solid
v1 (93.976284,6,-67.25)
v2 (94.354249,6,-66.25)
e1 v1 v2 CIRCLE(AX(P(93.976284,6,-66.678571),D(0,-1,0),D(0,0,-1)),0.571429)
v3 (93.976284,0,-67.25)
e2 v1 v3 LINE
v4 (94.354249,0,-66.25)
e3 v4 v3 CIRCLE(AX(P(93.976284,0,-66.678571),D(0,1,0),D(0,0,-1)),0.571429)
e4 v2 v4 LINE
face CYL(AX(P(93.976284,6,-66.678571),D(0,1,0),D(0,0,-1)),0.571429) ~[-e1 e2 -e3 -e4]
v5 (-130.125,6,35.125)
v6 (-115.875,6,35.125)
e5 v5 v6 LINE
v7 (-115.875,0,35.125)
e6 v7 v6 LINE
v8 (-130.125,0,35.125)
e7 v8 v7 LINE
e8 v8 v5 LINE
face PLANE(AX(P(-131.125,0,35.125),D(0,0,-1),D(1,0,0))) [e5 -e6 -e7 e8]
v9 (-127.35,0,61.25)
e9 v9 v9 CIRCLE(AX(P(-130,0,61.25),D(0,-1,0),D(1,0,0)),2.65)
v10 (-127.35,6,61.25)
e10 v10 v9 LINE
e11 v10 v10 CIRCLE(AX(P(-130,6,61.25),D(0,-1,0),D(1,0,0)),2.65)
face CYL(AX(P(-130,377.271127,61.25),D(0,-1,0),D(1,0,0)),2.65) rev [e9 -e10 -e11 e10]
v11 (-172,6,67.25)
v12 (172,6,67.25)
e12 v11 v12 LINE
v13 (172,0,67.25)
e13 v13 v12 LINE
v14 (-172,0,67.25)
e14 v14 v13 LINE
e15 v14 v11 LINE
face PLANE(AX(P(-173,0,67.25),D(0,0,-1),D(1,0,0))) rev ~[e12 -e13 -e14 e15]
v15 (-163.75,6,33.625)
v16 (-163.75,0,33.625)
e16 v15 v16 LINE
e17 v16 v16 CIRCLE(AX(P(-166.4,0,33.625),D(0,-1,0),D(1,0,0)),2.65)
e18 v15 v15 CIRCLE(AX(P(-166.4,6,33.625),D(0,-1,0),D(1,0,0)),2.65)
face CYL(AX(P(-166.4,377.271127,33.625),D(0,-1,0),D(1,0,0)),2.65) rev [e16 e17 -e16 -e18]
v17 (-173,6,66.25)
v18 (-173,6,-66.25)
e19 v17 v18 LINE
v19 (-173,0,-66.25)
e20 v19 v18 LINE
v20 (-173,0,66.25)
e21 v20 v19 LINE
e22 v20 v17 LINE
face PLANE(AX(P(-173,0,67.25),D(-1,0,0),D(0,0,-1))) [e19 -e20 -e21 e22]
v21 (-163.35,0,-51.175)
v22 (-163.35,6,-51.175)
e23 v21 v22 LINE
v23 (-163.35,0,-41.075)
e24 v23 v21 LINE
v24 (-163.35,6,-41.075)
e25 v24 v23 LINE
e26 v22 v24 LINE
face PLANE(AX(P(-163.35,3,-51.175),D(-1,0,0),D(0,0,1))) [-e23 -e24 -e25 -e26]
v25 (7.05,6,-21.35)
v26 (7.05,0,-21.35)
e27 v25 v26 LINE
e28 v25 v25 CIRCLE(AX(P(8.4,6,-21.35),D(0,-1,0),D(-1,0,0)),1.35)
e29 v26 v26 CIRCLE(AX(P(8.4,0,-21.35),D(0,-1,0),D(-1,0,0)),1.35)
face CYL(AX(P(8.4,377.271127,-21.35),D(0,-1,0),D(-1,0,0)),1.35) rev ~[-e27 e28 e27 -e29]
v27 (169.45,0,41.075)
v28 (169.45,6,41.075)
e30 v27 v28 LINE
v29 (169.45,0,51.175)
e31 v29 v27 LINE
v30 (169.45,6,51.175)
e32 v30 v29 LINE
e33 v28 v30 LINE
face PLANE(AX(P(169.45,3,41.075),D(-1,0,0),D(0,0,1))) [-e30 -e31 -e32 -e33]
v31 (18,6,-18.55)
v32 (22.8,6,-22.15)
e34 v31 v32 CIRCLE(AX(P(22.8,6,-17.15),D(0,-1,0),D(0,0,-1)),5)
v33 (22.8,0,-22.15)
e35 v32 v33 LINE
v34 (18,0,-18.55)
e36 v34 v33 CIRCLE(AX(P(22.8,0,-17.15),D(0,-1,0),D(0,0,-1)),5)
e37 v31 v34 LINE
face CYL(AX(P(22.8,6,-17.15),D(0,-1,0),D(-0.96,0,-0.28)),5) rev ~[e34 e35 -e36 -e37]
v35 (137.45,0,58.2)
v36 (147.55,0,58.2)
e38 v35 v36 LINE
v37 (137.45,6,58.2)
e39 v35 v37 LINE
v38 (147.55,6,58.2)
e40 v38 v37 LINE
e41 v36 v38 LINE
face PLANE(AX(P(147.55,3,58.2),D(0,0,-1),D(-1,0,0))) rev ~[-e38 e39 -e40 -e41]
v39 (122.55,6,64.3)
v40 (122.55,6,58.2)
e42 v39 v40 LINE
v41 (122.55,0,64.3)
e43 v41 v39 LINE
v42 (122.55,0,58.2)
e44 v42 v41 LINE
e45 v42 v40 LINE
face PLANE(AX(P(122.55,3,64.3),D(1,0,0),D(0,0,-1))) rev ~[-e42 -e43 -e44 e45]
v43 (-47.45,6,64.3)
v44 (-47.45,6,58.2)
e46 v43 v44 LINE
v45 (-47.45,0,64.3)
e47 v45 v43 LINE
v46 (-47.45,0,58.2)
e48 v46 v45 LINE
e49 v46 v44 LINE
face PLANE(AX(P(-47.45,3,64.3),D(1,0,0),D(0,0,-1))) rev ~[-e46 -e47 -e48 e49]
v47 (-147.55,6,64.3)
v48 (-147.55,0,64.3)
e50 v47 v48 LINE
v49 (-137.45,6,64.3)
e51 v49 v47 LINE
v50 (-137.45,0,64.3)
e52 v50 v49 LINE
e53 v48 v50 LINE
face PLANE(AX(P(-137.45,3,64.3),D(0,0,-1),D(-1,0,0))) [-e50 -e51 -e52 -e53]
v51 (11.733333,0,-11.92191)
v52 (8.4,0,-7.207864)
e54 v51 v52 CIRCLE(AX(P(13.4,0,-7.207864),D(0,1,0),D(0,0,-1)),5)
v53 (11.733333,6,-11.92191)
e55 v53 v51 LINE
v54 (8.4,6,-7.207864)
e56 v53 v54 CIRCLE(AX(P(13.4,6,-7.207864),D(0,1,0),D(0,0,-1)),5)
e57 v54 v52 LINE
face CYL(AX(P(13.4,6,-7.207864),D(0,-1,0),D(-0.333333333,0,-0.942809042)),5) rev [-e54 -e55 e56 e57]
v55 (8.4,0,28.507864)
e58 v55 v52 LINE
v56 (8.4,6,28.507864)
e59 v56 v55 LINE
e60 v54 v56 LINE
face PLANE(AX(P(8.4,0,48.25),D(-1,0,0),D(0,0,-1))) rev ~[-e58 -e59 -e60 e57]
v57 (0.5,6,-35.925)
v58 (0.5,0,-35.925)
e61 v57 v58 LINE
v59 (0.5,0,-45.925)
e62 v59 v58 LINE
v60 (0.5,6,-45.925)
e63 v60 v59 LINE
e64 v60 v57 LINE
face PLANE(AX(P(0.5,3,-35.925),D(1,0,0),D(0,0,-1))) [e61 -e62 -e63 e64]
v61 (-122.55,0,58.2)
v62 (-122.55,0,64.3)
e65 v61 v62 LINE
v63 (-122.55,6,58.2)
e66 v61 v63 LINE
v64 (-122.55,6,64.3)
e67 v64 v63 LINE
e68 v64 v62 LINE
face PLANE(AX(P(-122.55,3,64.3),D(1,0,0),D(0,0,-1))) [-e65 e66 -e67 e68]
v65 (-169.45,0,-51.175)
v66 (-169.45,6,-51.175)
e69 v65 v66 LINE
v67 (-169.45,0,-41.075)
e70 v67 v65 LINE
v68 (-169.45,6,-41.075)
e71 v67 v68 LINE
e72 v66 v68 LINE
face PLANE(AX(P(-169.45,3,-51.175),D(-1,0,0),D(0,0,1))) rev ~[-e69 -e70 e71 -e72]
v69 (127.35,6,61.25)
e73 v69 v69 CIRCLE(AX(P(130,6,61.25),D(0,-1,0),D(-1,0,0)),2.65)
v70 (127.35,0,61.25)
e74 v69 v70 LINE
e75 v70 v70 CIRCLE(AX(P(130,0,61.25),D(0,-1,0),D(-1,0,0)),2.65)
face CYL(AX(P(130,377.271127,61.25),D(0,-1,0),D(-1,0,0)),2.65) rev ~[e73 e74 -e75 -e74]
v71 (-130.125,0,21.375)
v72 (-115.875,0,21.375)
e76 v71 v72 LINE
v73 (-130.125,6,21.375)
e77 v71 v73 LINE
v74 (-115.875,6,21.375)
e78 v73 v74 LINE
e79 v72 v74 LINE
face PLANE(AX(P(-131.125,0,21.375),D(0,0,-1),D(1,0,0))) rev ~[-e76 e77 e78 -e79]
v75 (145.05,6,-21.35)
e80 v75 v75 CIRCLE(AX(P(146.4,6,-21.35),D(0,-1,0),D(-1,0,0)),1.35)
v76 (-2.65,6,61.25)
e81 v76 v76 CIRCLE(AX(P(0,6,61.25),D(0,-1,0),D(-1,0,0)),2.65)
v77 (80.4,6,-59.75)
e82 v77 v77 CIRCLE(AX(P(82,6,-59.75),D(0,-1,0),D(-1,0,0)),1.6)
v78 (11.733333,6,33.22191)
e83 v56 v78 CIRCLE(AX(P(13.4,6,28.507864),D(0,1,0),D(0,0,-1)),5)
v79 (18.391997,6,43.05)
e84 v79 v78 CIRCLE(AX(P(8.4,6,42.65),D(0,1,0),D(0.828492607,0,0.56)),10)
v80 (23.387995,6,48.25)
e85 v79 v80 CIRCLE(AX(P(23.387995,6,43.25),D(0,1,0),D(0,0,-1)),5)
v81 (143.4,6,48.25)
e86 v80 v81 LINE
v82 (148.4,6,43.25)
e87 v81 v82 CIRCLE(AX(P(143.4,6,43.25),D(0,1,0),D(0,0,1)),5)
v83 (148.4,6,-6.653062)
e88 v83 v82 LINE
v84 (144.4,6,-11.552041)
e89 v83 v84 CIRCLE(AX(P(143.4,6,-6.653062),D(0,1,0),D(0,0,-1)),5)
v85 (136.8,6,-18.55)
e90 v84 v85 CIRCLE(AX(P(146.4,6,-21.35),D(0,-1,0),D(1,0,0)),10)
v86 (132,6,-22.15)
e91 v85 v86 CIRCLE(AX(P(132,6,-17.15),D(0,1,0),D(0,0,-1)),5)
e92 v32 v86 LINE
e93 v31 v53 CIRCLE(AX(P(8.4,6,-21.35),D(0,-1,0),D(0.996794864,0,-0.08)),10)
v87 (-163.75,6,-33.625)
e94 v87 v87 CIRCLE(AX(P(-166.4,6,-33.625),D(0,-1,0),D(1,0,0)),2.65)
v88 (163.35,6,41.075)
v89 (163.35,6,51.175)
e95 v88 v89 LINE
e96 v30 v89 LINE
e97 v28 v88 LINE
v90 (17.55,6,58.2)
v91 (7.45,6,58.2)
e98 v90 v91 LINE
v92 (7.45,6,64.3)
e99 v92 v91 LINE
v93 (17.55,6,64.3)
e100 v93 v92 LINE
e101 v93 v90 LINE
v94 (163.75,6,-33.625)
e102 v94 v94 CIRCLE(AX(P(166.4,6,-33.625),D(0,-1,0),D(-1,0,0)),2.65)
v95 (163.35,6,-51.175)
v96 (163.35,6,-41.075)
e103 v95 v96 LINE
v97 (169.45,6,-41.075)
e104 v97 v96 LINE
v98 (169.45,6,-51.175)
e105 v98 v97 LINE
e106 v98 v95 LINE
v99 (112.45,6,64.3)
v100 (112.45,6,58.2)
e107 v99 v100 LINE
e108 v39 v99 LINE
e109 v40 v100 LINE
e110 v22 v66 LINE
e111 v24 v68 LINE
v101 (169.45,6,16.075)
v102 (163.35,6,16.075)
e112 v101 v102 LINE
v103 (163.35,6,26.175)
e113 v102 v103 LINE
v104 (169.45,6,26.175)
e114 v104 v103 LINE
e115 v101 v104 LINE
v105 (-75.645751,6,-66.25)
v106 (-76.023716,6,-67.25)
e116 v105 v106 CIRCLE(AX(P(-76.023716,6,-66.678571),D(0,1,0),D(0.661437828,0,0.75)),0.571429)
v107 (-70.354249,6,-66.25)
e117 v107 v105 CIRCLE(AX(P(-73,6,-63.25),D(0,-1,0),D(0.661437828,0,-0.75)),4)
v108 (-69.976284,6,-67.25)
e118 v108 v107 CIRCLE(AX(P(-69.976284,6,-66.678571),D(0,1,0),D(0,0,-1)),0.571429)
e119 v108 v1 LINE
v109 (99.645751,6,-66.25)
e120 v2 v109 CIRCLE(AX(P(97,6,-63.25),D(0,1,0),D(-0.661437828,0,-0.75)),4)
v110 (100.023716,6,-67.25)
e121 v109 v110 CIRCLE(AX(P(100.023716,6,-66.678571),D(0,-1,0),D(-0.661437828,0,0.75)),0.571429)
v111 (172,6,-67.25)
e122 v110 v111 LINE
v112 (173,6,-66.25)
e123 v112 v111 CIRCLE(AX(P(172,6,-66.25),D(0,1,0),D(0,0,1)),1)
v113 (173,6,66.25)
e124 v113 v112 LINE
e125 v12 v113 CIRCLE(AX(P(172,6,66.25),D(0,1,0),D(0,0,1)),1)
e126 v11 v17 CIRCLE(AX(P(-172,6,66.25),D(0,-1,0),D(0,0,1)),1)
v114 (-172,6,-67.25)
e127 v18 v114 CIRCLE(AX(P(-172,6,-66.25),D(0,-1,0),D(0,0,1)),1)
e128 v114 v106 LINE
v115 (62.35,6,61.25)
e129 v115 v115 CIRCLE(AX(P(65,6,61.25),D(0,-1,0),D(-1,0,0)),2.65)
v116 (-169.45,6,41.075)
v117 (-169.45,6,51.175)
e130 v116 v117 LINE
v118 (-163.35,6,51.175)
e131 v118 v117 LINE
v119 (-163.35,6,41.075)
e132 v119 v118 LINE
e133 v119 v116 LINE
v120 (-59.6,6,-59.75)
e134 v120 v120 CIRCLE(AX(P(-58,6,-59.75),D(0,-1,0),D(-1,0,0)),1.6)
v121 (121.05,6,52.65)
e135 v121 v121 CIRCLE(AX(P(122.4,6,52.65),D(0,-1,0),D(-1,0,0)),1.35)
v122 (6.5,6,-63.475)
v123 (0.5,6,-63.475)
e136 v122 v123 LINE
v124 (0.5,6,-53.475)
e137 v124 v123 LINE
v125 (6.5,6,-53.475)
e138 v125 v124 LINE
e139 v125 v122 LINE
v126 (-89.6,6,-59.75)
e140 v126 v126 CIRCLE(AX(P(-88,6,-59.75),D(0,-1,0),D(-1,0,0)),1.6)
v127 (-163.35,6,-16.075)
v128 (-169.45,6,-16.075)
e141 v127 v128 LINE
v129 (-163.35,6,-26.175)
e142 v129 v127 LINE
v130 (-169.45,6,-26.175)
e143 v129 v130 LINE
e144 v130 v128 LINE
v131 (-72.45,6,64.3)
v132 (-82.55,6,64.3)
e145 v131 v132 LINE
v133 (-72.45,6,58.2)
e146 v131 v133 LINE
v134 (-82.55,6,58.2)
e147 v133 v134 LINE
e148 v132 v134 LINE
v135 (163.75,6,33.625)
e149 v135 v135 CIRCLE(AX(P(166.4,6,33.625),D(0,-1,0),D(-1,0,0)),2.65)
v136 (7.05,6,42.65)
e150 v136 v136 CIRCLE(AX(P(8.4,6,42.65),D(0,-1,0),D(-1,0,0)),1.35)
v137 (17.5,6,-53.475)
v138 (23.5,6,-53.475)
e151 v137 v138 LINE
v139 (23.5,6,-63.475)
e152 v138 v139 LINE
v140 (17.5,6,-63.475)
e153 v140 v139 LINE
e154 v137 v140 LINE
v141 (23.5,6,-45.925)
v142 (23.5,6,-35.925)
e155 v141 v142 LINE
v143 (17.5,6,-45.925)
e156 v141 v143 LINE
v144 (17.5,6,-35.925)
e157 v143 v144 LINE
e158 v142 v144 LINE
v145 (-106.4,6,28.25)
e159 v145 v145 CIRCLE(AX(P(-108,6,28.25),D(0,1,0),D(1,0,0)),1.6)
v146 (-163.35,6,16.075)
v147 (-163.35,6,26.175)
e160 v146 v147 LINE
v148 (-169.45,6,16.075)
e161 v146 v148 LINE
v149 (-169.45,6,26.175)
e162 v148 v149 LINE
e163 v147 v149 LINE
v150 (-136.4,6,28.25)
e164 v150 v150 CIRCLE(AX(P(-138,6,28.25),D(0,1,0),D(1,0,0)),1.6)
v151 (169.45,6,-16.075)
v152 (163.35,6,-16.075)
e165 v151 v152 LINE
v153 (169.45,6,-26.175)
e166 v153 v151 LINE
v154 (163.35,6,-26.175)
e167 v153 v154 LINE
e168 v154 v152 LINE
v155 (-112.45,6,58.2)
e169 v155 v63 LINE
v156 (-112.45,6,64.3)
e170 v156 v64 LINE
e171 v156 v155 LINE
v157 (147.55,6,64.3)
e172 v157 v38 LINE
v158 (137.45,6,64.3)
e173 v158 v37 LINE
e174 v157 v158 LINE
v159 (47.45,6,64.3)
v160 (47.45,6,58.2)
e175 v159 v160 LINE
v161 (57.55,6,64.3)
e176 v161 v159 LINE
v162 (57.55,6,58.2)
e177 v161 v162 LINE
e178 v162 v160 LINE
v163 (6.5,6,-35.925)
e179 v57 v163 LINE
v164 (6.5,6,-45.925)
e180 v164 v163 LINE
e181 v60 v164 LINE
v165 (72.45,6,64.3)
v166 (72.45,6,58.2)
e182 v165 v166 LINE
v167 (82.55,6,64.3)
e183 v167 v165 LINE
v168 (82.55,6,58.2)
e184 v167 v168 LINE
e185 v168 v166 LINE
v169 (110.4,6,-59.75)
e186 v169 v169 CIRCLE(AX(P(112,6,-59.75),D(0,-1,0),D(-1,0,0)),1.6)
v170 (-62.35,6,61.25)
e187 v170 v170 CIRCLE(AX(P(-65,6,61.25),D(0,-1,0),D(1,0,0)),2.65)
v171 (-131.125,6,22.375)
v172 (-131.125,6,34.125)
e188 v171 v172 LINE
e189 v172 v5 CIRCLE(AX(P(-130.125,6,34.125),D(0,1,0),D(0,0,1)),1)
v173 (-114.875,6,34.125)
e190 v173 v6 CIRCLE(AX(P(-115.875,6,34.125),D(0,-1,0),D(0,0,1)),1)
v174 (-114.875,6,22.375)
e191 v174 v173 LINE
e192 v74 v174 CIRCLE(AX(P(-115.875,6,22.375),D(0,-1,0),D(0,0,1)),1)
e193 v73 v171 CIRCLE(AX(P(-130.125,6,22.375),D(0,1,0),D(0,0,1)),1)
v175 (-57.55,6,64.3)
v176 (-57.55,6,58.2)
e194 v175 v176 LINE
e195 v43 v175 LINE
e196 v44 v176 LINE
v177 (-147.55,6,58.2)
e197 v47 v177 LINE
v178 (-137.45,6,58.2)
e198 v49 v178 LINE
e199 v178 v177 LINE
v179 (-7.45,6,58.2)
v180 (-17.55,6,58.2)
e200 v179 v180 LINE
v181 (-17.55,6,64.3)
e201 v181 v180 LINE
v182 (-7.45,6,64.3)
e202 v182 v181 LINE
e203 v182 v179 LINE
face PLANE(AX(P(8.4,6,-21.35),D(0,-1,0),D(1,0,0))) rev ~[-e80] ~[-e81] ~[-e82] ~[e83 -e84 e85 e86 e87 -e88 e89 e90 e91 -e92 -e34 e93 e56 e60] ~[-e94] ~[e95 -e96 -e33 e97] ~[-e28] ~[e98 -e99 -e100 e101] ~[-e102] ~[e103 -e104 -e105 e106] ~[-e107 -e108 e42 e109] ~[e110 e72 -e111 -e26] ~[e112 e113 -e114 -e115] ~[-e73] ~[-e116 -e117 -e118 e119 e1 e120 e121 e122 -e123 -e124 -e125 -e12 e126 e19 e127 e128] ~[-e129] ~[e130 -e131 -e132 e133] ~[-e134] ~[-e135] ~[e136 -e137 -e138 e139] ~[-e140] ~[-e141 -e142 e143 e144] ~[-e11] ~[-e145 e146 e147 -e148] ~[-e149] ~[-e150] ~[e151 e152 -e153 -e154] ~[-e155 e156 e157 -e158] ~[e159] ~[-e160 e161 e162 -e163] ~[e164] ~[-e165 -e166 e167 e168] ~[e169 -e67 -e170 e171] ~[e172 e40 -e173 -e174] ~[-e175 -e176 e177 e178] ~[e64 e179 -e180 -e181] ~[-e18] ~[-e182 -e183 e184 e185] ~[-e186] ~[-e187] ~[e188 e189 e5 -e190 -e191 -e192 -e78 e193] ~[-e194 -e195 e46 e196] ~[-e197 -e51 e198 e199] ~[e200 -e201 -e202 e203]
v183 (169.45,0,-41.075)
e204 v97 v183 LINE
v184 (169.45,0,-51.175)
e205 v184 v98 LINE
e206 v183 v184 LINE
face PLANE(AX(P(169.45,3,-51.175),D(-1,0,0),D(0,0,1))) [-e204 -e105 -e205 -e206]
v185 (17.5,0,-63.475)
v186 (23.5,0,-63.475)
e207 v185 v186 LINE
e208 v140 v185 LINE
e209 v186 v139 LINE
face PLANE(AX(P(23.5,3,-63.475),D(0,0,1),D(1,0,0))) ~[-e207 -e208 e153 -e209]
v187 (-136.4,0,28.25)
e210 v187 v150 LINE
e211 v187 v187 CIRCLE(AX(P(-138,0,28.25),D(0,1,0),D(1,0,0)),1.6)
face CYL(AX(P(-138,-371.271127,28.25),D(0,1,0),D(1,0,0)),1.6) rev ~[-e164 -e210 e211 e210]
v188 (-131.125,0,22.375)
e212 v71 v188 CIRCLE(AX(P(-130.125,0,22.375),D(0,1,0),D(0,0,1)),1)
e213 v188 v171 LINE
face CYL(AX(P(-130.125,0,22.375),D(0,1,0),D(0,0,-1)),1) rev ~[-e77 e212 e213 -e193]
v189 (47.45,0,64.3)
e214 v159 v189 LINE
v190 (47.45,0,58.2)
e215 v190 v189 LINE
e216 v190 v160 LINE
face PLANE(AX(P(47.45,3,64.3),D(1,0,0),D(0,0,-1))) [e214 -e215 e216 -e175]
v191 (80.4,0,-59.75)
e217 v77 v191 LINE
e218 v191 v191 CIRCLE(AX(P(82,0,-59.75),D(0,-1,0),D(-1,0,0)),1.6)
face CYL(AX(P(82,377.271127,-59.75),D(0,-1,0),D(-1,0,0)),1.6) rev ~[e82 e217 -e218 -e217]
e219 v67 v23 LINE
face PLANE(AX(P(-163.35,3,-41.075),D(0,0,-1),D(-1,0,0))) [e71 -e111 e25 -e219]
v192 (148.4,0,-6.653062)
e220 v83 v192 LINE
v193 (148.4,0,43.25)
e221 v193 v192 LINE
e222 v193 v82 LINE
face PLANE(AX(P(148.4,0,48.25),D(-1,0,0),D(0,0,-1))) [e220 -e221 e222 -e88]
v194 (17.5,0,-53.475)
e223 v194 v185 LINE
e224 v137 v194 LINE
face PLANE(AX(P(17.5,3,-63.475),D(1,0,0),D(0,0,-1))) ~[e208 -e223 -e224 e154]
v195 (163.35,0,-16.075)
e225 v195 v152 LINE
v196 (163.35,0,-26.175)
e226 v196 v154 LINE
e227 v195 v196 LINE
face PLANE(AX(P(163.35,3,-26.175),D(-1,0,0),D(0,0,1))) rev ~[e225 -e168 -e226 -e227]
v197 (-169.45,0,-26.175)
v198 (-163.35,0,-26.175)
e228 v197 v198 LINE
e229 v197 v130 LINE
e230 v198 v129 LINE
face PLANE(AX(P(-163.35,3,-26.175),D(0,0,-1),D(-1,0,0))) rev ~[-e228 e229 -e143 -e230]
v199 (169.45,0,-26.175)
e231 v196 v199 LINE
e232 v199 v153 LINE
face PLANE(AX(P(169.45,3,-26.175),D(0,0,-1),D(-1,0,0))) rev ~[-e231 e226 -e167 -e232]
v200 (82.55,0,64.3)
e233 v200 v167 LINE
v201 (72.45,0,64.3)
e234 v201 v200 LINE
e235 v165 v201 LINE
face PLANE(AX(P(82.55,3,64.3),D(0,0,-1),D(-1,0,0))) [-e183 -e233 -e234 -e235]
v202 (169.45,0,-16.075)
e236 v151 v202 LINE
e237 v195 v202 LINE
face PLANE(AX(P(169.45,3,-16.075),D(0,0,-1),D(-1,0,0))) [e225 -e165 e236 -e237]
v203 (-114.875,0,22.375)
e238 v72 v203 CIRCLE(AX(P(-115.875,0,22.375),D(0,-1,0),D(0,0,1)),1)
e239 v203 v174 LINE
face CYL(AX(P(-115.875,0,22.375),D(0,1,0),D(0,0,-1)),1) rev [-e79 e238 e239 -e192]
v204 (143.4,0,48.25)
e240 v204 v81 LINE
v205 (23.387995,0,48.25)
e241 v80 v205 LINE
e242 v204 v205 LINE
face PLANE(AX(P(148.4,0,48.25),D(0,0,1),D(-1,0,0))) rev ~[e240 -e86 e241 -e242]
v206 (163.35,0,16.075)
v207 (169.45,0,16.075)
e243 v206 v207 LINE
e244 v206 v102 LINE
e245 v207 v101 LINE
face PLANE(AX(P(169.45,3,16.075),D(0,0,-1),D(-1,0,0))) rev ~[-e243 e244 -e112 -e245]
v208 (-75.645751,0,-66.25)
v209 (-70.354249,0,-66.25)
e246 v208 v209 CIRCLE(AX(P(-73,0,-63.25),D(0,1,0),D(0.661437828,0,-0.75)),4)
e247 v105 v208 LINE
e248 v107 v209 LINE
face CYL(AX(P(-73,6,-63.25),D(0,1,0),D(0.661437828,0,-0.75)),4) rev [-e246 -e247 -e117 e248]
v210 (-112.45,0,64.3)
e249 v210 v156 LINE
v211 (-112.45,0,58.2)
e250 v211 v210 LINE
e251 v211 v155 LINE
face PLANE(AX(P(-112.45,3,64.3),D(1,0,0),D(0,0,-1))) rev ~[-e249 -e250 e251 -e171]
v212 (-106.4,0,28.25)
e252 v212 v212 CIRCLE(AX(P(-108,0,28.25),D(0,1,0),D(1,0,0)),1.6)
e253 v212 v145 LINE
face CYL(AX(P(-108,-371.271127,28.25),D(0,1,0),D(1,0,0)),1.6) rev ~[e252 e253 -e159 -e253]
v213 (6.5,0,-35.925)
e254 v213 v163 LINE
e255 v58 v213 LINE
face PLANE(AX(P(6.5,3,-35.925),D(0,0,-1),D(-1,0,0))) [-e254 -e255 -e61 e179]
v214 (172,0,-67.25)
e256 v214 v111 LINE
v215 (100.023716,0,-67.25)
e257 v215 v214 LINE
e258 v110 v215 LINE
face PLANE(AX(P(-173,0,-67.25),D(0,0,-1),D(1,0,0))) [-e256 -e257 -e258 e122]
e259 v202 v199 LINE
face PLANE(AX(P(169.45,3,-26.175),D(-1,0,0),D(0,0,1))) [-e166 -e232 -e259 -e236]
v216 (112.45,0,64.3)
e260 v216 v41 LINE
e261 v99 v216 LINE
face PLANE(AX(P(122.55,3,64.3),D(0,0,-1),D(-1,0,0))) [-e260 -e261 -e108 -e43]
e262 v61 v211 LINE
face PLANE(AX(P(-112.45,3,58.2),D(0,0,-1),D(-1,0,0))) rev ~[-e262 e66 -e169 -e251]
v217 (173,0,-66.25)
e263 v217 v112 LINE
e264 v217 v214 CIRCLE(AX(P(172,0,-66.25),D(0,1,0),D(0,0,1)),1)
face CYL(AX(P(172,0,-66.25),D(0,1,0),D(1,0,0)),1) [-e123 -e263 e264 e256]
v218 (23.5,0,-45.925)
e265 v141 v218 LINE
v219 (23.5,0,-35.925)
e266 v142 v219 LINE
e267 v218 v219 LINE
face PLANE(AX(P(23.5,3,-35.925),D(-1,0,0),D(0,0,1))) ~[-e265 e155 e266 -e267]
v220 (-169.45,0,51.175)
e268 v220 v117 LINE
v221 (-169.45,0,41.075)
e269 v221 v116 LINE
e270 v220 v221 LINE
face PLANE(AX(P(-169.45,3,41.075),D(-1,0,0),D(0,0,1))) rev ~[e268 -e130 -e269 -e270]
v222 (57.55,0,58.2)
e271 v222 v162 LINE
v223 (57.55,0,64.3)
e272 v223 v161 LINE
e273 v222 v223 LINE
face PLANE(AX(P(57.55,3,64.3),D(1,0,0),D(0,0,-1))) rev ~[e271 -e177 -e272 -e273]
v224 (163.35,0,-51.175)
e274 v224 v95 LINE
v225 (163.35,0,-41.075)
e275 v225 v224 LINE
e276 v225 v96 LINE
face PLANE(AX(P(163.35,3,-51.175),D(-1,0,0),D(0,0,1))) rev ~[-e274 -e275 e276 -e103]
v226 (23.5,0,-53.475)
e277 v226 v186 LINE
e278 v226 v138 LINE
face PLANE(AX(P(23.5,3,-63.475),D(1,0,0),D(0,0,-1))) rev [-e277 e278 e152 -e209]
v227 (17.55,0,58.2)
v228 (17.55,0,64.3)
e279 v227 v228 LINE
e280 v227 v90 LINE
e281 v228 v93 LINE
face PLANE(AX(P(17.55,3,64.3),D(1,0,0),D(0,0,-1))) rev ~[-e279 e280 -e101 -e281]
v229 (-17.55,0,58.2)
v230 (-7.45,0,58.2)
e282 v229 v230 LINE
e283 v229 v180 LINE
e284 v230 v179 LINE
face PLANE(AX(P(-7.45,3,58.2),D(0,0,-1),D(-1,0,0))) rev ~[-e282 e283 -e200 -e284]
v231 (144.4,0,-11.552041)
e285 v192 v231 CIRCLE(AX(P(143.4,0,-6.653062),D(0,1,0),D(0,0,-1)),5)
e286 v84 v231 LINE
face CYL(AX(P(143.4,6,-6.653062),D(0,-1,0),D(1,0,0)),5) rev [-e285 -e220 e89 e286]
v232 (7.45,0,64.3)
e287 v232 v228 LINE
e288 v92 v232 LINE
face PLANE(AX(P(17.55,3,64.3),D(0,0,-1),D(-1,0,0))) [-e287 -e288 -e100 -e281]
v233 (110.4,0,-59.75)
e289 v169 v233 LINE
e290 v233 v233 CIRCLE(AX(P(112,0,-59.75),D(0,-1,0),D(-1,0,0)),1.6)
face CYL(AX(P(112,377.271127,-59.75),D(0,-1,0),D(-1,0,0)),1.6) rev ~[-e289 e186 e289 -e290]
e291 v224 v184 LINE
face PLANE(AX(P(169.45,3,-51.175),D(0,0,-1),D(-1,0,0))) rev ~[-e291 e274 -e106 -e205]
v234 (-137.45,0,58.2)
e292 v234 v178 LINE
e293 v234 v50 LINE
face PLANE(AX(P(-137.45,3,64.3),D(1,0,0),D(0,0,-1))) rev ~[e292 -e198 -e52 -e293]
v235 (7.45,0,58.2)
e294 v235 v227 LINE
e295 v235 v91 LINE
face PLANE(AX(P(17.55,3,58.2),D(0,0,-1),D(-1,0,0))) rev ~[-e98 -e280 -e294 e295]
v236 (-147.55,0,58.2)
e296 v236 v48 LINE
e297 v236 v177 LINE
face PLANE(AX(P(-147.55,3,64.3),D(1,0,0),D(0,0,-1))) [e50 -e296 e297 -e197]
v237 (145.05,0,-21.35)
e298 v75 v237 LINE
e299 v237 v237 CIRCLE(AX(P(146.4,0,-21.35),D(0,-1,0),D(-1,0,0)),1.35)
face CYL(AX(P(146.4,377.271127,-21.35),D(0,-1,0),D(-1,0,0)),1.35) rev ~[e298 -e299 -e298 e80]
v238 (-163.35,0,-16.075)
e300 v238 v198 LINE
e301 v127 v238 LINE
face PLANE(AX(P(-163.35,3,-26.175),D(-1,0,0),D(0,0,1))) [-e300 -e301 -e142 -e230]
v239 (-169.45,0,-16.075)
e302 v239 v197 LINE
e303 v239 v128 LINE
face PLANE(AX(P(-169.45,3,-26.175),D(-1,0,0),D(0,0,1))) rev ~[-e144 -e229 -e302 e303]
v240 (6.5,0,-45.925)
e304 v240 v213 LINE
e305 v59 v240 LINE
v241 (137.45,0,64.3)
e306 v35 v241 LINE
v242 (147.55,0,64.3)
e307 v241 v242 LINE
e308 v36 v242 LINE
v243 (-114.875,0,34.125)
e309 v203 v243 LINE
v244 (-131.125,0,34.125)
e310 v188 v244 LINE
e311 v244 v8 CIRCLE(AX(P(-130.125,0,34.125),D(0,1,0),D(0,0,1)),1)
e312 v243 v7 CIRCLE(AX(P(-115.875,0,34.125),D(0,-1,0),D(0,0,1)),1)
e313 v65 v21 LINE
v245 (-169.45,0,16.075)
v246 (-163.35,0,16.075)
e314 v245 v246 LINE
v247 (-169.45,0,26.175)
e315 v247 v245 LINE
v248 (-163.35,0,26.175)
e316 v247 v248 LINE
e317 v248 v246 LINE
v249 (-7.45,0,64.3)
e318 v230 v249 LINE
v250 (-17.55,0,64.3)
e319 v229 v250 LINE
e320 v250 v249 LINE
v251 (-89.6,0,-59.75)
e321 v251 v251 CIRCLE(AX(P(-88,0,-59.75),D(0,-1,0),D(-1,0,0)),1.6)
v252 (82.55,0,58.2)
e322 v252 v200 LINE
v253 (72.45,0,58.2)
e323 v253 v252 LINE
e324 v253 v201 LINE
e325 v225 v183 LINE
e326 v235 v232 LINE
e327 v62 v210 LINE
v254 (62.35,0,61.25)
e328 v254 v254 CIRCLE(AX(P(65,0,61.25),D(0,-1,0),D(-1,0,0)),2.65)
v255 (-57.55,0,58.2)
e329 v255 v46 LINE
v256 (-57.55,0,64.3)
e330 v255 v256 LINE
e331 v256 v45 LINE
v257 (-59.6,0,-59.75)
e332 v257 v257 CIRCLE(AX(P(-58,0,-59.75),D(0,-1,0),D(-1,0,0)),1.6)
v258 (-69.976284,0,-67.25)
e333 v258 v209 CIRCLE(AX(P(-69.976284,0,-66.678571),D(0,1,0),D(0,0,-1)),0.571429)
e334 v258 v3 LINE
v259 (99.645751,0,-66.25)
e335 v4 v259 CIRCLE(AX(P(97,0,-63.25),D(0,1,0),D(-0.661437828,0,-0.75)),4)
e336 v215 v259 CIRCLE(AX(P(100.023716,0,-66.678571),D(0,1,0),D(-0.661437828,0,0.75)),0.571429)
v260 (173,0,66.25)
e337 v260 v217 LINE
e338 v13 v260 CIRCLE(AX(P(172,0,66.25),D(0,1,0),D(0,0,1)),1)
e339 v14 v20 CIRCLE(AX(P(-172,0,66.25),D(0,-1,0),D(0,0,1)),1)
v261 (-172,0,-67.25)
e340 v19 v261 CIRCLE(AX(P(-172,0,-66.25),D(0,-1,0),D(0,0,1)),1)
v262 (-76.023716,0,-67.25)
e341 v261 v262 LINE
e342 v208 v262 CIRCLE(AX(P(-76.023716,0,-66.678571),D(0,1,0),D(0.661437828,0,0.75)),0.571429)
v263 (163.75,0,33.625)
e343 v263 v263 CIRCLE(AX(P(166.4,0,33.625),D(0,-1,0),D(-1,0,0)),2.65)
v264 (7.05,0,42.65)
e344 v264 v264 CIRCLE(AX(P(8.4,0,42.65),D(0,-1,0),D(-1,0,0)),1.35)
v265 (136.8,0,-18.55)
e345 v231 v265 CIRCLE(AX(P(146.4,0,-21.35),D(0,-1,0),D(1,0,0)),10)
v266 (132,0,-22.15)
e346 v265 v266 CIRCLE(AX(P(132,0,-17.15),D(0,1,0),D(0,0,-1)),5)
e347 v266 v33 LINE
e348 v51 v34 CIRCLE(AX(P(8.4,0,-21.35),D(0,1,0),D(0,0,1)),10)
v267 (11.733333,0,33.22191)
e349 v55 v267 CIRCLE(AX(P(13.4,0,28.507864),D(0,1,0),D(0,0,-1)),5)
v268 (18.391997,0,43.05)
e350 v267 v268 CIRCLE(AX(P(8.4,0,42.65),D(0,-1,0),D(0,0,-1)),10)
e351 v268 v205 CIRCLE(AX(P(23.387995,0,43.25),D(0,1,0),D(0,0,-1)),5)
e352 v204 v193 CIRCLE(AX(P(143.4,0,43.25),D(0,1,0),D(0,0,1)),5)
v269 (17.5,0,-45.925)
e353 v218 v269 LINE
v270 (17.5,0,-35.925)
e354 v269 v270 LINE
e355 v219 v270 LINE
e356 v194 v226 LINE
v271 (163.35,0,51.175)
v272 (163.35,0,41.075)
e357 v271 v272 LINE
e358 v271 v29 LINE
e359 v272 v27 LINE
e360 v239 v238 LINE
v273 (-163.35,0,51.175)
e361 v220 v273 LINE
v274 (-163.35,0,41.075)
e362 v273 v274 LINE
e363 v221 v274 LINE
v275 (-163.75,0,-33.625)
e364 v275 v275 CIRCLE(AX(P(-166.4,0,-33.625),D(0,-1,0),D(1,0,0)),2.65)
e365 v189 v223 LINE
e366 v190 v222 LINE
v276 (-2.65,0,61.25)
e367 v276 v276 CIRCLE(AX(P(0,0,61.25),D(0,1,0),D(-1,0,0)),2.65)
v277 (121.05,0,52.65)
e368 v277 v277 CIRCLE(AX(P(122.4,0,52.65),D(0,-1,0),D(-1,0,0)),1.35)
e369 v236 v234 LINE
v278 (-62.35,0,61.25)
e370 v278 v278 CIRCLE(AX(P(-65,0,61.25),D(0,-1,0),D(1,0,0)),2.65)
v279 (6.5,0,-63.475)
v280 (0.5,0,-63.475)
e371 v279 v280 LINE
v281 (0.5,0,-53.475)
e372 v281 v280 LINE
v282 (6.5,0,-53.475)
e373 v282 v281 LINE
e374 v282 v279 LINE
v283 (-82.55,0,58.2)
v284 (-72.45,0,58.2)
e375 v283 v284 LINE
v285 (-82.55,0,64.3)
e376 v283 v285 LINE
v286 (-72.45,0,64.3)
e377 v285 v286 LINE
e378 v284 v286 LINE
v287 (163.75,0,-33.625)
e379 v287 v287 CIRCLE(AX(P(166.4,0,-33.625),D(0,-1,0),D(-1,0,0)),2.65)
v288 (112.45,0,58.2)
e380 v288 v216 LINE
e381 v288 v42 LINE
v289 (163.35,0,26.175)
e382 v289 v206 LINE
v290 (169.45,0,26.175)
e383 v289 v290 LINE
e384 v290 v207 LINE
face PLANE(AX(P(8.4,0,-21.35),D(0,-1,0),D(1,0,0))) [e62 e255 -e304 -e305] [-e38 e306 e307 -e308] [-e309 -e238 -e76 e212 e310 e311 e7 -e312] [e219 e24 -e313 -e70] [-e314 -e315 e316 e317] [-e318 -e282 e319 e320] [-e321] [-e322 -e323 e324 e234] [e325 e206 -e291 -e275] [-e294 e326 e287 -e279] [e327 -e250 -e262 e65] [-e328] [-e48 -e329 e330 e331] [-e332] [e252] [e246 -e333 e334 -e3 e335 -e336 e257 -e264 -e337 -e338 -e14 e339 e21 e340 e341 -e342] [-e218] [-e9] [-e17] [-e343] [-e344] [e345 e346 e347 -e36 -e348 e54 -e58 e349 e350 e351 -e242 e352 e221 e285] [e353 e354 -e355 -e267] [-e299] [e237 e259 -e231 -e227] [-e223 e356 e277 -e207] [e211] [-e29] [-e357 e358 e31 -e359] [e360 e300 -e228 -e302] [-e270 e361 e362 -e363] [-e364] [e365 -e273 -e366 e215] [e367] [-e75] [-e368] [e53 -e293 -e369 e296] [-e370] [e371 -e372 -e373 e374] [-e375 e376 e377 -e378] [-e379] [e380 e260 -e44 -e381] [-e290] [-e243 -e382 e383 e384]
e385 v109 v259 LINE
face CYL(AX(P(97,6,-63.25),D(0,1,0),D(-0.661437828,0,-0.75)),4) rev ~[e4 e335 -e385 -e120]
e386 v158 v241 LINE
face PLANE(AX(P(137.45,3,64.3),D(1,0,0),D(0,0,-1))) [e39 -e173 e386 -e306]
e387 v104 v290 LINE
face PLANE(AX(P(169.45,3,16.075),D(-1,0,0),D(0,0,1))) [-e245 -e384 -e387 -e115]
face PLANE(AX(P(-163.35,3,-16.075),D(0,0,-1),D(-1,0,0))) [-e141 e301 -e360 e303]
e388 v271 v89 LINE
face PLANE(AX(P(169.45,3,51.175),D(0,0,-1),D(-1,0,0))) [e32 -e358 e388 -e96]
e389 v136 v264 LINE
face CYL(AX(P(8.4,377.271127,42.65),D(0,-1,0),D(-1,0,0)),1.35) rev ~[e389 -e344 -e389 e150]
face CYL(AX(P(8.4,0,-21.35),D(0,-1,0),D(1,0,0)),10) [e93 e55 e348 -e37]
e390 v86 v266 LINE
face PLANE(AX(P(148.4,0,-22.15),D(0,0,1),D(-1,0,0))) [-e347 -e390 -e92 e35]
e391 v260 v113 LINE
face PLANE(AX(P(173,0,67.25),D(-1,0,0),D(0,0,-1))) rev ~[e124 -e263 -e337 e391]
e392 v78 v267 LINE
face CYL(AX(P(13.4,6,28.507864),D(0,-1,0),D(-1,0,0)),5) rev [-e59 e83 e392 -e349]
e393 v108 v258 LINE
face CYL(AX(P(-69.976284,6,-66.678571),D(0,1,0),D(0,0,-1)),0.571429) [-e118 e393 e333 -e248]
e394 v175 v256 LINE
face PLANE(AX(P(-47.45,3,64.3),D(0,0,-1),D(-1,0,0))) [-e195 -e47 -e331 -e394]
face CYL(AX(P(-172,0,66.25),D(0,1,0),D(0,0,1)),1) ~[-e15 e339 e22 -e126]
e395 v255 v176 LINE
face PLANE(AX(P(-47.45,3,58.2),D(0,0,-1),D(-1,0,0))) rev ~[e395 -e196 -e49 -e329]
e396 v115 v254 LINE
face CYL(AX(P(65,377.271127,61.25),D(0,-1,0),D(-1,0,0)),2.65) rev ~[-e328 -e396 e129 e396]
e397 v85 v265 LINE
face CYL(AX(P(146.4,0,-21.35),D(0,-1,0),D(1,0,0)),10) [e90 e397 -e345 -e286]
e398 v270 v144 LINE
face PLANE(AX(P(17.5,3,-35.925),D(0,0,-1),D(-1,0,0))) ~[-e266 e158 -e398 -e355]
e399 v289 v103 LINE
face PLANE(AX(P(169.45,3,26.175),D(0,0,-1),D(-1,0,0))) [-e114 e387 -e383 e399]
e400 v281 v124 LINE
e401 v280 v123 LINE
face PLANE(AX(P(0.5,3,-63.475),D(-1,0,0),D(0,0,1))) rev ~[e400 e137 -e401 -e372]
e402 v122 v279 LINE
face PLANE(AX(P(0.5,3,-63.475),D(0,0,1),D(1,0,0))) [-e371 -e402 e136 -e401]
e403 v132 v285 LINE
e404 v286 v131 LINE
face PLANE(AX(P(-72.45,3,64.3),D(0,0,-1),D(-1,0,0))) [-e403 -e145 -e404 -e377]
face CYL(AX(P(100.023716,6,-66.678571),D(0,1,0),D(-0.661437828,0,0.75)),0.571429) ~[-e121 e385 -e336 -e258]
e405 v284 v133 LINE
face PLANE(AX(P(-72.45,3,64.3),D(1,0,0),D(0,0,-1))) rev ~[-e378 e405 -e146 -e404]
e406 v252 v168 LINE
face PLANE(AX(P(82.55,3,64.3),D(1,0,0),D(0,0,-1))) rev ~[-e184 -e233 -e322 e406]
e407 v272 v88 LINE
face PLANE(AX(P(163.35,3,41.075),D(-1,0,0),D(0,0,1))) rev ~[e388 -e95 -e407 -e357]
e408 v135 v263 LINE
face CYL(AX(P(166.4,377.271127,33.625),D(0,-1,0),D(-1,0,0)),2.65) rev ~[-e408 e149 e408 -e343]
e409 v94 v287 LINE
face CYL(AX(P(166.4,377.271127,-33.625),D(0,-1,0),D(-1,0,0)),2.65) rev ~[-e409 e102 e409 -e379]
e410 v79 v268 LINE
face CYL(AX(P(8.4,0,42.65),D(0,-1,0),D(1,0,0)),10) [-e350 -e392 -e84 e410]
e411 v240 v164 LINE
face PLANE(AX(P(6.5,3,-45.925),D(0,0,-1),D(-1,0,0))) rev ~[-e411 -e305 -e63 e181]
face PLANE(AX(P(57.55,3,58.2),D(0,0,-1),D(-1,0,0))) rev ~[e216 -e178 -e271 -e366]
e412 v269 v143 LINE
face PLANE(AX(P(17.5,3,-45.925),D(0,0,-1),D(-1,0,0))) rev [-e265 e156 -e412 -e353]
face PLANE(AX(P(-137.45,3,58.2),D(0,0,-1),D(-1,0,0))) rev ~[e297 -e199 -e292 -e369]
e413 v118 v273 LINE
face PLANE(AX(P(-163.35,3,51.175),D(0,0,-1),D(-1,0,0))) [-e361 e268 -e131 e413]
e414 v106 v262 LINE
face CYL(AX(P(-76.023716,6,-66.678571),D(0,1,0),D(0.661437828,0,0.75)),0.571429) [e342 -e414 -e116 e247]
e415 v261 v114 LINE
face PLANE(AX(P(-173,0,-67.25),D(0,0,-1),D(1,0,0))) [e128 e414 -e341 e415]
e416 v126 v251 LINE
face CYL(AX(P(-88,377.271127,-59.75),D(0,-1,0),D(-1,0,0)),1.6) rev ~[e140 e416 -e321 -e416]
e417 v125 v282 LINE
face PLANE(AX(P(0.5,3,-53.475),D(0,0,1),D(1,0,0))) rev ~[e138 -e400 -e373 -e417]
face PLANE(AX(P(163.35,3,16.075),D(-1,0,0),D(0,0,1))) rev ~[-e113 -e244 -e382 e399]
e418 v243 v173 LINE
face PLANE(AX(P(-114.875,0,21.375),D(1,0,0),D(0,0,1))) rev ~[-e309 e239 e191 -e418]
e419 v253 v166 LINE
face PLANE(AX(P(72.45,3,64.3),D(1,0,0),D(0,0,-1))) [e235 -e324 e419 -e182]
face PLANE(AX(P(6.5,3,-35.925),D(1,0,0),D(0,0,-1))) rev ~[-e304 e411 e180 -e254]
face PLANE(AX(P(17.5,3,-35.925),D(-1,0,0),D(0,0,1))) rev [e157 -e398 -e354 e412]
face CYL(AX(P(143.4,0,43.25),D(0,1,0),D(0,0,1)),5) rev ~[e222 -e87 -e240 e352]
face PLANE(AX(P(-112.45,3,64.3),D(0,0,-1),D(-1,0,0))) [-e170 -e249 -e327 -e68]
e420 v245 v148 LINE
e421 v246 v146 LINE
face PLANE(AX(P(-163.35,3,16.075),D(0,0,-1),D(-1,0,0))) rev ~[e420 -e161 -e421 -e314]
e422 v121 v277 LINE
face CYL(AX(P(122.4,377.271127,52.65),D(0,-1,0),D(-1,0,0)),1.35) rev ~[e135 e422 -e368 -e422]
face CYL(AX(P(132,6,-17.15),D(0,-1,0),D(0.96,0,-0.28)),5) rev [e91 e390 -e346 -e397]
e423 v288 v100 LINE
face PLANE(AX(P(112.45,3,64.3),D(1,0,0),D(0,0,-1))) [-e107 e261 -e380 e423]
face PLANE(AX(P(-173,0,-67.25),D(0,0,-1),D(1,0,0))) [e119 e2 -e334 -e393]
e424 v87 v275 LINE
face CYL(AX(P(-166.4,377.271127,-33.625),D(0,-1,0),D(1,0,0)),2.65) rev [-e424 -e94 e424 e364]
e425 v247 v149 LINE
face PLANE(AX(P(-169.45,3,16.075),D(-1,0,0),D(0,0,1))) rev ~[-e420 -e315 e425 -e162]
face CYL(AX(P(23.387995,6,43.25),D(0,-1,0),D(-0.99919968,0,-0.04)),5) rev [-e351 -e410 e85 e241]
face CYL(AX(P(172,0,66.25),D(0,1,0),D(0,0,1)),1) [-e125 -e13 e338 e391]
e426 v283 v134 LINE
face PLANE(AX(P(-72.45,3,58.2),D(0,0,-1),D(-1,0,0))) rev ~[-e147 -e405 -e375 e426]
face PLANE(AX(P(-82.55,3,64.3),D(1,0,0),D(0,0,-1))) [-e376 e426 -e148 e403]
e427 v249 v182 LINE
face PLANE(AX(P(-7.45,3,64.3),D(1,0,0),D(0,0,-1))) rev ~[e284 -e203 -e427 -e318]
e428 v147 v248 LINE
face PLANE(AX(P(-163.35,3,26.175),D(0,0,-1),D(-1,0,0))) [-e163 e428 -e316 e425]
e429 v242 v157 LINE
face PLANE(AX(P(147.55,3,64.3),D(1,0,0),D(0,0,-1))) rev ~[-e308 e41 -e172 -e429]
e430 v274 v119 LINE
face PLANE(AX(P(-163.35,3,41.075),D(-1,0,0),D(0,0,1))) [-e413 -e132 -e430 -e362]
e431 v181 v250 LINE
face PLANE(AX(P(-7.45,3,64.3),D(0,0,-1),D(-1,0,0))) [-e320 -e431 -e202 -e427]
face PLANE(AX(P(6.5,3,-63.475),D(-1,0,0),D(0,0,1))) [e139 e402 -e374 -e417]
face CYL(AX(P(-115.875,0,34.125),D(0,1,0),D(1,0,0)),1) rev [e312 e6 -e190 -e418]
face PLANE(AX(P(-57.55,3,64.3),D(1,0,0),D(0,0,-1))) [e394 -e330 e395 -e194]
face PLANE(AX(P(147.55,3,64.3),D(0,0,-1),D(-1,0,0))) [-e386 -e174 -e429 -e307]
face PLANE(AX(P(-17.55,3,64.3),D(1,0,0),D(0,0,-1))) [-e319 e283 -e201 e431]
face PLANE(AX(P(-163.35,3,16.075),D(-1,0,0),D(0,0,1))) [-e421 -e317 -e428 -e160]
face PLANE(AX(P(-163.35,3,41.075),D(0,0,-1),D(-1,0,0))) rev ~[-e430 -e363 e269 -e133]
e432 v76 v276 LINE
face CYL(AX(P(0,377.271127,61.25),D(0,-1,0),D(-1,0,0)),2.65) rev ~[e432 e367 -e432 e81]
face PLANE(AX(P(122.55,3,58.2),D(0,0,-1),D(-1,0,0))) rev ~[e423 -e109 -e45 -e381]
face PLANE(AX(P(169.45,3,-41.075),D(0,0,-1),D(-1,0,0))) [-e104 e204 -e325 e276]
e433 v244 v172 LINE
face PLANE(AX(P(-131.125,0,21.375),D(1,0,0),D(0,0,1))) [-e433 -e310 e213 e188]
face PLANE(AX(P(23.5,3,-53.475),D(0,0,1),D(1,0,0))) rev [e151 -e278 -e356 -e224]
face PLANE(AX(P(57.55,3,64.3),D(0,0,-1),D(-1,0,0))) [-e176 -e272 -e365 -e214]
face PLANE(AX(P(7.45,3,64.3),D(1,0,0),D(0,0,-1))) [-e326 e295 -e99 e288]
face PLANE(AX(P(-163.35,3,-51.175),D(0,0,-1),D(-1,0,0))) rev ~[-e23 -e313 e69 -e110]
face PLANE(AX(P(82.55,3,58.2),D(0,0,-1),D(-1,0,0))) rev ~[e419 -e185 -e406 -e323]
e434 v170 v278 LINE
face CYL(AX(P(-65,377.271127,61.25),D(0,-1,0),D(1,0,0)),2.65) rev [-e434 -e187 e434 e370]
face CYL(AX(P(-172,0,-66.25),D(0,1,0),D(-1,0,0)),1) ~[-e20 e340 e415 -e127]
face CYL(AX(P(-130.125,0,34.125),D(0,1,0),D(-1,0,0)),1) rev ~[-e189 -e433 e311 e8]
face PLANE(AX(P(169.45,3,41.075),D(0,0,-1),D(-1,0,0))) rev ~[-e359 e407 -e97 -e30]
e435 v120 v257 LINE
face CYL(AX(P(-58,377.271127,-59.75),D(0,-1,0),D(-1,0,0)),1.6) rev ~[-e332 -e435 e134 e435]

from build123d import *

# Parameters (mm, degrees)
SKETCH1_W                = 346
SKETCH1_H                = 134.5
BOSS_EXTRUDE1_DEPTH      = 6
M5_CLEARANCE_HOLE1_D     = 5.3
M5_CLEARANCE_HOLE2_D     = 5.3
SKETCH5_W                = 140
SKETCH5_H                = 70.4
CUT_EXTRUDE1_DEPTH       = 7
SKETCH6_R                = 10
BOSS_EXTRUDE2_DEPTH      = 6
FILLET1_R                = 5
M2_5_CLEARANCE_HOLE1_D   = 2.7
CUT_EXTRUDE29_DEPTH      = 7
SKETCH72_W               = 6.1
SKETCH72_H               = 10.1
CUT_EXTRUDE2_DEPTH       = 4
CUT_EXTRUDE2_DEPTH_BACK  = 4
SKETCH73_W               = 6.1
SKETCH73_H               = 10.1
CUT_EXTRUDE21_DEPTH      = 4
CUT_EXTRUDE21_DEPTH_BACK = 4
SKETCH74_W               = 6.1
SKETCH74_H               = 10.1
CUT_EXTRUDE22_DEPTH      = 4
CUT_EXTRUDE22_DEPTH_BACK = 4
SKETCH75_W               = 6.1
SKETCH75_H               = 10.1
CUT_EXTRUDE23_DEPTH      = 4
CUT_EXTRUDE23_DEPTH_BACK = 4
SKETCH76_W               = 6.1
SKETCH76_H               = 10.1
CUT_EXTRUDE24_DEPTH      = 4
CUT_EXTRUDE24_DEPTH_BACK = 4
SKETCH771_W              = 6.1
SKETCH771_H              = 10.1
CUT_EXTRUDE25_DEPTH      = 4
CUT_EXTRUDE25_DEPTH_BACK = 4
SKETCH781_W              = 6.1
SKETCH781_H              = 10.1
CUT_EXTRUDE26_DEPTH      = 4
CUT_EXTRUDE26_DEPTH_BACK = 4
SKETCH79_W               = 6.1
SKETCH79_H               = 10.1
CUT_EXTRUDE27_DEPTH      = 4
CUT_EXTRUDE27_DEPTH_BACK = 4
SKETCH710_W              = 6.1
SKETCH710_H              = 10.1
CUT_EXTRUDE28_DEPTH      = 4
CUT_EXTRUDE28_DEPTH_BACK = 4
SKETCH63_W               = 10
SKETCH63_H               = 6
CUT_EXTRUDE13_DEPTH      = 4
SKETCH64_W               = 10
SKETCH64_H               = 6
CUT_EXTRUDE14_DEPTH      = 4
M3_CLEARANCE_HOLE1_D     = 3.2
SKETCH786_W              = 16.25
SKETCH786_H              = 13.75
CUT_EXTRUDE30_DEPTH      = 7
M3_CLEARANCE_HOLE2_D     = 3.2
FILLET2_R                = 1
FILLET3_R                = 1


with BuildPart() as part:
    # Sketch1 → Boss-Extrude1 (new body)
    with BuildSketch(Plane(origin=(0, 0, 0), x_dir=(1, 0, 0), z_dir=(0, 1, 0))):
        Rectangle(SKETCH1_W, SKETCH1_H)
    extrude(amount=BOSS_EXTRUDE1_DEPTH)

    # M5 Clearance Hole1 (through all)
    with Locations(Plane(origin=(0, 6, 0), x_dir=(1, 0, 0), z_dir=(0, 1, 0))):
        with Locations((0, -61.25), (65, -61.25), (130, -61.25)):
            m5_clearance_hole1 = Hole(M5_CLEARANCE_HOLE1_D / 2)

    # Mirror1: M5 Clearance Hole1 across plane
    add(m5_clearance_hole1.mirror(Plane(origin=(0, 0, 0), x_dir=(0, 0, 1), z_dir=(1, 0, 0))), mode=Mode.SUBTRACT)

    # M5 Clearance Hole2 (through all)
    with Locations(Plane(origin=(0, 6, 0), x_dir=(1, 0, 0), z_dir=(0, 1, 0))):
        with Locations((166.4, -33.625), (166.4, 33.625)):
            m5_clearance_hole2 = Hole(M5_CLEARANCE_HOLE2_D / 2)

    # Mirror2: M5 Clearance Hole2 across plane
    add(m5_clearance_hole2.mirror(Plane(origin=(0, 0, 0), x_dir=(0, 0, 1), z_dir=(1, 0, 0))), mode=Mode.SUBTRACT)

    # Sketch5 → Cut-Extrude1 (cut, through all)
    with BuildSketch(Plane(origin=(0, 0, 0), x_dir=(-1, 0, 0), z_dir=(0, -1, 0))):
        with Locations((-78.4, -13.05)):
            Rectangle(SKETCH5_W, SKETCH5_H)
    extrude(amount=-CUT_EXTRUDE1_DEPTH, mode=Mode.SUBTRACT)

    # Sketch6 → Boss-Extrude2 (add)
    with BuildSketch(Plane.XZ):
        with Locations((8.4, -21.35)):
            Circle(SKETCH6_R)
        with Locations((8.4, 42.65)):
            Circle(SKETCH6_R)
        with Locations((146.4, -21.35)):
            Circle(SKETCH6_R)
    extrude(amount=-BOSS_EXTRUDE2_DEPTH)

    # Fillet1
    fillet1_edges = [part.edges().sort_by_distance(p)[0] for p in [
        (148.4, 3, -11.552041029),
        (148.4, 3, 48.25),
        (8.4, 3, -11.35),
        (18.367948636, 3, -22.15),
        (16.684926071, 3, 48.25),
        (8.4, 3, 32.65),
        (136.432051364, 3, -22.15),
    ]]
    fillet(fillet1_edges, radius=FILLET1_R)

    # M2.5 Clearance Hole1 (through all)
    with Locations(Plane(origin=(0, 6, 0), x_dir=(1, 0, 0), z_dir=(0, 1, 0))):
        with Locations((8.4, -42.65), (8.4, 21.35), (146.4, 21.35), (122.4, -52.65)):
            Hole(M2_5_CLEARANCE_HOLE1_D / 2)

    # Sketch783 → Cut-Extrude29 (cut, through all)
    with BuildSketch(Plane(origin=(0, 6, 0), x_dir=(1, 0, 0), z_dir=(0, 1, 0))):
        with BuildLine():
            Line((-76.023715784, 67.25), (-69.976284216, 67.25))
            ThreePointArc((-69.976284216, 67.25), (-70.5108067, 66.880601937), (-70.354248689, 66.25))
            ThreePointArc((-70.354248689, 66.25), (-73, 59.25), (-75.645751311, 66.25))
            ThreePointArc((-75.645751311, 66.25), (-75.4891933, 66.880601937), (-76.023715784, 67.25))
        make_face()
    cut_extrude29 = extrude(amount=-CUT_EXTRUDE29_DEPTH, mode=Mode.SUBTRACT)

    # Mirror4: Cut-Extrude29 across plane
    add(cut_extrude29.mirror(Plane.ZY.offset(-12)), mode=Mode.SUBTRACT)

    # Sketch72 → Cut-Extrude2 (cut, two sides)
    with BuildSketch(Plane(origin=(110, 3, 105.25), x_dir=(0, 0, -1), z_dir=(0, 1, 0))) as cut_extrude2_sk:
        with Locations((44, -32.5)):
            Rectangle(SKETCH72_W, SKETCH72_H)
        with Locations((44, -7.5)):
            Rectangle(SKETCH72_W, SKETCH72_H)
    extrude(amount=CUT_EXTRUDE2_DEPTH, mode=Mode.SUBTRACT)
    extrude(cut_extrude2_sk.sketch, amount=-CUT_EXTRUDE2_DEPTH_BACK, mode=Mode.SUBTRACT)

    # Sketch73 → Cut-Extrude21 (cut, two sides)
    with BuildSketch(Plane(origin=(45, 3, 105.25), x_dir=(0, 0, -1), z_dir=(0, 1, 0))) as cut_extrude21_sk:
        with Locations((44, -32.5)):
            Rectangle(SKETCH73_W, SKETCH73_H)
        with Locations((44, -7.5)):
            Rectangle(SKETCH73_W, SKETCH73_H)
    extrude(amount=CUT_EXTRUDE21_DEPTH, mode=Mode.SUBTRACT)
    extrude(cut_extrude21_sk.sketch, amount=-CUT_EXTRUDE21_DEPTH_BACK, mode=Mode.SUBTRACT)

    # Sketch74 → Cut-Extrude22 (cut, two sides)
    with BuildSketch(Plane(origin=(-20, 3, 105.25), x_dir=(0, 0, -1), z_dir=(0, 1, 0))) as cut_extrude22_sk:
        with Locations((44, -32.5)):
            Rectangle(SKETCH74_W, SKETCH74_H)
        with Locations((44, -7.5)):
            Rectangle(SKETCH74_W, SKETCH74_H)
    extrude(amount=CUT_EXTRUDE22_DEPTH, mode=Mode.SUBTRACT)
    extrude(cut_extrude22_sk.sketch, amount=-CUT_EXTRUDE22_DEPTH_BACK, mode=Mode.SUBTRACT)

    # Sketch75 → Cut-Extrude23 (cut, two sides)
    with BuildSketch(Plane(origin=(-85, 3, 105.25), x_dir=(0, 0, -1), z_dir=(0, 1, 0))) as cut_extrude23_sk:
        with Locations((44, -32.5)):
            Rectangle(SKETCH75_W, SKETCH75_H)
        with Locations((44, -7.5)):
            Rectangle(SKETCH75_W, SKETCH75_H)
    extrude(amount=CUT_EXTRUDE23_DEPTH, mode=Mode.SUBTRACT)
    extrude(cut_extrude23_sk.sketch, amount=-CUT_EXTRUDE23_DEPTH_BACK, mode=Mode.SUBTRACT)

    # Sketch76 → Cut-Extrude24 (cut, two sides)
    with BuildSketch(Plane(origin=(-150, 3, 105.25), x_dir=(0, 0, -1), z_dir=(0, 1, 0))) as cut_extrude24_sk:
        with Locations((44, -32.5)):
            Rectangle(SKETCH76_W, SKETCH76_H)
        with Locations((44, -7.5)):
            Rectangle(SKETCH76_W, SKETCH76_H)
    extrude(amount=CUT_EXTRUDE24_DEPTH, mode=Mode.SUBTRACT)
    extrude(cut_extrude24_sk.sketch, amount=-CUT_EXTRUDE24_DEPTH_BACK, mode=Mode.SUBTRACT)

    # Sketch771 → Cut-Extrude25 (cut, two sides)
    with BuildSketch(Plane(origin=(210.4, 3, 53.625), x_dir=(-1, 0, 0), z_dir=(0, 1, 0))) as cut_extrude25_sk:
        with Locations((44, -32.5)):
            Rectangle(SKETCH771_W, SKETCH771_H)
        with Locations((44, -7.5)):
            Rectangle(SKETCH771_W, SKETCH771_H)
    extrude(amount=CUT_EXTRUDE25_DEPTH, mode=Mode.SUBTRACT)
    extrude(cut_extrude25_sk.sketch, amount=-CUT_EXTRUDE25_DEPTH_BACK, mode=Mode.SUBTRACT)

    # Sketch781 → Cut-Extrude26 (cut, two sides)
    with BuildSketch(Plane(origin=(210.4, 3, -13.625), x_dir=(-1, 0, 0), z_dir=(0, 1, 0))) as cut_extrude26_sk:
        with Locations((44, -32.5)):
            Rectangle(SKETCH781_W, SKETCH781_H)
        with Locations((44, -7.5)):
            Rectangle(SKETCH781_W, SKETCH781_H)
    extrude(amount=CUT_EXTRUDE26_DEPTH, mode=Mode.SUBTRACT)
    extrude(cut_extrude26_sk.sketch, amount=-CUT_EXTRUDE26_DEPTH_BACK, mode=Mode.SUBTRACT)

    # Sketch79 → Cut-Extrude27 (cut, two sides)
    with BuildSketch(Plane(origin=(-122.4, 3, -13.625), x_dir=(-1, 0, 0), z_dir=(0, 1, 0))) as cut_extrude27_sk:
        with Locations((44, -32.5)):
            Rectangle(SKETCH79_W, SKETCH79_H)
        with Locations((44, -7.5)):
            Rectangle(SKETCH79_W, SKETCH79_H)
    extrude(amount=CUT_EXTRUDE27_DEPTH, mode=Mode.SUBTRACT)
    extrude(cut_extrude27_sk.sketch, amount=-CUT_EXTRUDE27_DEPTH_BACK, mode=Mode.SUBTRACT)

    # Sketch710 → Cut-Extrude28 (cut, two sides)
    with BuildSketch(Plane(origin=(-122.4, 3, 53.625), x_dir=(-1, 0, 0), z_dir=(0, 1, 0))) as cut_extrude28_sk:
        with Locations((44, -32.5)):
            Rectangle(SKETCH710_W, SKETCH710_H)
        with Locations((44, -7.5)):
            Rectangle(SKETCH710_W, SKETCH710_H)
    extrude(amount=CUT_EXTRUDE28_DEPTH, mode=Mode.SUBTRACT)
    extrude(cut_extrude28_sk.sketch, amount=-CUT_EXTRUDE28_DEPTH_BACK, mode=Mode.SUBTRACT)

    # Sketch63 → Cut-Extrude13 (cut, symmetric)
    with BuildSketch(Plane(origin=(47.5, 3, -59.242778608), x_dir=(0, 0, 1), z_dir=(0, 1, 0))):
        with Locations((0.767778608, -44)):
            Rectangle(SKETCH63_W, SKETCH63_H)
    cut_extrude13 = extrude(amount=CUT_EXTRUDE13_DEPTH, both=True, mode=Mode.SUBTRACT)

    # Sketch64 → Cut-Extrude14 (cut, symmetric)
    with BuildSketch(Plane(origin=(-40.5, 3, -40.157221392), x_dir=(0, 0, -1), z_dir=(0, 1, 0))):
        with Locations((0.767778608, -44)):
            Rectangle(SKETCH64_W, SKETCH64_H)
    cut_extrude14 = extrude(amount=CUT_EXTRUDE14_DEPTH, both=True, mode=Mode.SUBTRACT)

    # Mirror3: Cut-Extrude13, Cut-Extrude14 across plane
    add(cut_extrude13.mirror(Plane(origin=(12, 0, 0), x_dir=(0, 0, 1), z_dir=(1, 0, 0))), mode=Mode.SUBTRACT)
    add(cut_extrude14.mirror(Plane(origin=(12, 0, 0), x_dir=(0, 0, 1), z_dir=(1, 0, 0))), mode=Mode.SUBTRACT)

    # M3 Clearance Hole1 (through all)
    with Locations(Plane(origin=(0, 6, 0), x_dir=(1, 0, 0), z_dir=(0, 1, 0))):
        with Locations((-88, 59.75), (-58, 59.75), (82, 59.75), (112, 59.75)):
            Hole(M3_CLEARANCE_HOLE1_D / 2)

    # Sketch786 → Cut-Extrude30 (cut, through all)
    with BuildSketch(Plane.XZ):
        with Locations((-123, 28.25)):
            Rectangle(SKETCH786_W, SKETCH786_H)
    extrude(amount=-CUT_EXTRUDE30_DEPTH, mode=Mode.SUBTRACT)

    # M3 Clearance Hole2 (through all)
    with Locations(Plane(origin=(0, 0, 0), x_dir=(-1, 0, 0), z_dir=(0, -1, 0))):
        with Locations((108, -28.25), (138, -28.25)):
            Hole(M3_CLEARANCE_HOLE2_D / 2)

    # Fillet2
    fillet2_edges = [part.edges().sort_by_distance(p)[0] for p in [
        (-114.875, 3, 35.125),
        (-114.875, 3, 21.375),
        (-131.125, 3, 21.375),
        (-131.125, 3, 35.125),
    ]]
    fillet(fillet2_edges, radius=FILLET2_R)

    # Fillet3
    fillet3_edges = [part.edges().sort_by_distance(p)[0] for p in [
        (173, 3, 67.25),
        (-173, 3, 67.25),
        (-173, 3, -67.25),
        (173, 3, -67.25),
    ]]
    fillet(fillet3_edges, radius=FILLET3_R)


solid = part.part
